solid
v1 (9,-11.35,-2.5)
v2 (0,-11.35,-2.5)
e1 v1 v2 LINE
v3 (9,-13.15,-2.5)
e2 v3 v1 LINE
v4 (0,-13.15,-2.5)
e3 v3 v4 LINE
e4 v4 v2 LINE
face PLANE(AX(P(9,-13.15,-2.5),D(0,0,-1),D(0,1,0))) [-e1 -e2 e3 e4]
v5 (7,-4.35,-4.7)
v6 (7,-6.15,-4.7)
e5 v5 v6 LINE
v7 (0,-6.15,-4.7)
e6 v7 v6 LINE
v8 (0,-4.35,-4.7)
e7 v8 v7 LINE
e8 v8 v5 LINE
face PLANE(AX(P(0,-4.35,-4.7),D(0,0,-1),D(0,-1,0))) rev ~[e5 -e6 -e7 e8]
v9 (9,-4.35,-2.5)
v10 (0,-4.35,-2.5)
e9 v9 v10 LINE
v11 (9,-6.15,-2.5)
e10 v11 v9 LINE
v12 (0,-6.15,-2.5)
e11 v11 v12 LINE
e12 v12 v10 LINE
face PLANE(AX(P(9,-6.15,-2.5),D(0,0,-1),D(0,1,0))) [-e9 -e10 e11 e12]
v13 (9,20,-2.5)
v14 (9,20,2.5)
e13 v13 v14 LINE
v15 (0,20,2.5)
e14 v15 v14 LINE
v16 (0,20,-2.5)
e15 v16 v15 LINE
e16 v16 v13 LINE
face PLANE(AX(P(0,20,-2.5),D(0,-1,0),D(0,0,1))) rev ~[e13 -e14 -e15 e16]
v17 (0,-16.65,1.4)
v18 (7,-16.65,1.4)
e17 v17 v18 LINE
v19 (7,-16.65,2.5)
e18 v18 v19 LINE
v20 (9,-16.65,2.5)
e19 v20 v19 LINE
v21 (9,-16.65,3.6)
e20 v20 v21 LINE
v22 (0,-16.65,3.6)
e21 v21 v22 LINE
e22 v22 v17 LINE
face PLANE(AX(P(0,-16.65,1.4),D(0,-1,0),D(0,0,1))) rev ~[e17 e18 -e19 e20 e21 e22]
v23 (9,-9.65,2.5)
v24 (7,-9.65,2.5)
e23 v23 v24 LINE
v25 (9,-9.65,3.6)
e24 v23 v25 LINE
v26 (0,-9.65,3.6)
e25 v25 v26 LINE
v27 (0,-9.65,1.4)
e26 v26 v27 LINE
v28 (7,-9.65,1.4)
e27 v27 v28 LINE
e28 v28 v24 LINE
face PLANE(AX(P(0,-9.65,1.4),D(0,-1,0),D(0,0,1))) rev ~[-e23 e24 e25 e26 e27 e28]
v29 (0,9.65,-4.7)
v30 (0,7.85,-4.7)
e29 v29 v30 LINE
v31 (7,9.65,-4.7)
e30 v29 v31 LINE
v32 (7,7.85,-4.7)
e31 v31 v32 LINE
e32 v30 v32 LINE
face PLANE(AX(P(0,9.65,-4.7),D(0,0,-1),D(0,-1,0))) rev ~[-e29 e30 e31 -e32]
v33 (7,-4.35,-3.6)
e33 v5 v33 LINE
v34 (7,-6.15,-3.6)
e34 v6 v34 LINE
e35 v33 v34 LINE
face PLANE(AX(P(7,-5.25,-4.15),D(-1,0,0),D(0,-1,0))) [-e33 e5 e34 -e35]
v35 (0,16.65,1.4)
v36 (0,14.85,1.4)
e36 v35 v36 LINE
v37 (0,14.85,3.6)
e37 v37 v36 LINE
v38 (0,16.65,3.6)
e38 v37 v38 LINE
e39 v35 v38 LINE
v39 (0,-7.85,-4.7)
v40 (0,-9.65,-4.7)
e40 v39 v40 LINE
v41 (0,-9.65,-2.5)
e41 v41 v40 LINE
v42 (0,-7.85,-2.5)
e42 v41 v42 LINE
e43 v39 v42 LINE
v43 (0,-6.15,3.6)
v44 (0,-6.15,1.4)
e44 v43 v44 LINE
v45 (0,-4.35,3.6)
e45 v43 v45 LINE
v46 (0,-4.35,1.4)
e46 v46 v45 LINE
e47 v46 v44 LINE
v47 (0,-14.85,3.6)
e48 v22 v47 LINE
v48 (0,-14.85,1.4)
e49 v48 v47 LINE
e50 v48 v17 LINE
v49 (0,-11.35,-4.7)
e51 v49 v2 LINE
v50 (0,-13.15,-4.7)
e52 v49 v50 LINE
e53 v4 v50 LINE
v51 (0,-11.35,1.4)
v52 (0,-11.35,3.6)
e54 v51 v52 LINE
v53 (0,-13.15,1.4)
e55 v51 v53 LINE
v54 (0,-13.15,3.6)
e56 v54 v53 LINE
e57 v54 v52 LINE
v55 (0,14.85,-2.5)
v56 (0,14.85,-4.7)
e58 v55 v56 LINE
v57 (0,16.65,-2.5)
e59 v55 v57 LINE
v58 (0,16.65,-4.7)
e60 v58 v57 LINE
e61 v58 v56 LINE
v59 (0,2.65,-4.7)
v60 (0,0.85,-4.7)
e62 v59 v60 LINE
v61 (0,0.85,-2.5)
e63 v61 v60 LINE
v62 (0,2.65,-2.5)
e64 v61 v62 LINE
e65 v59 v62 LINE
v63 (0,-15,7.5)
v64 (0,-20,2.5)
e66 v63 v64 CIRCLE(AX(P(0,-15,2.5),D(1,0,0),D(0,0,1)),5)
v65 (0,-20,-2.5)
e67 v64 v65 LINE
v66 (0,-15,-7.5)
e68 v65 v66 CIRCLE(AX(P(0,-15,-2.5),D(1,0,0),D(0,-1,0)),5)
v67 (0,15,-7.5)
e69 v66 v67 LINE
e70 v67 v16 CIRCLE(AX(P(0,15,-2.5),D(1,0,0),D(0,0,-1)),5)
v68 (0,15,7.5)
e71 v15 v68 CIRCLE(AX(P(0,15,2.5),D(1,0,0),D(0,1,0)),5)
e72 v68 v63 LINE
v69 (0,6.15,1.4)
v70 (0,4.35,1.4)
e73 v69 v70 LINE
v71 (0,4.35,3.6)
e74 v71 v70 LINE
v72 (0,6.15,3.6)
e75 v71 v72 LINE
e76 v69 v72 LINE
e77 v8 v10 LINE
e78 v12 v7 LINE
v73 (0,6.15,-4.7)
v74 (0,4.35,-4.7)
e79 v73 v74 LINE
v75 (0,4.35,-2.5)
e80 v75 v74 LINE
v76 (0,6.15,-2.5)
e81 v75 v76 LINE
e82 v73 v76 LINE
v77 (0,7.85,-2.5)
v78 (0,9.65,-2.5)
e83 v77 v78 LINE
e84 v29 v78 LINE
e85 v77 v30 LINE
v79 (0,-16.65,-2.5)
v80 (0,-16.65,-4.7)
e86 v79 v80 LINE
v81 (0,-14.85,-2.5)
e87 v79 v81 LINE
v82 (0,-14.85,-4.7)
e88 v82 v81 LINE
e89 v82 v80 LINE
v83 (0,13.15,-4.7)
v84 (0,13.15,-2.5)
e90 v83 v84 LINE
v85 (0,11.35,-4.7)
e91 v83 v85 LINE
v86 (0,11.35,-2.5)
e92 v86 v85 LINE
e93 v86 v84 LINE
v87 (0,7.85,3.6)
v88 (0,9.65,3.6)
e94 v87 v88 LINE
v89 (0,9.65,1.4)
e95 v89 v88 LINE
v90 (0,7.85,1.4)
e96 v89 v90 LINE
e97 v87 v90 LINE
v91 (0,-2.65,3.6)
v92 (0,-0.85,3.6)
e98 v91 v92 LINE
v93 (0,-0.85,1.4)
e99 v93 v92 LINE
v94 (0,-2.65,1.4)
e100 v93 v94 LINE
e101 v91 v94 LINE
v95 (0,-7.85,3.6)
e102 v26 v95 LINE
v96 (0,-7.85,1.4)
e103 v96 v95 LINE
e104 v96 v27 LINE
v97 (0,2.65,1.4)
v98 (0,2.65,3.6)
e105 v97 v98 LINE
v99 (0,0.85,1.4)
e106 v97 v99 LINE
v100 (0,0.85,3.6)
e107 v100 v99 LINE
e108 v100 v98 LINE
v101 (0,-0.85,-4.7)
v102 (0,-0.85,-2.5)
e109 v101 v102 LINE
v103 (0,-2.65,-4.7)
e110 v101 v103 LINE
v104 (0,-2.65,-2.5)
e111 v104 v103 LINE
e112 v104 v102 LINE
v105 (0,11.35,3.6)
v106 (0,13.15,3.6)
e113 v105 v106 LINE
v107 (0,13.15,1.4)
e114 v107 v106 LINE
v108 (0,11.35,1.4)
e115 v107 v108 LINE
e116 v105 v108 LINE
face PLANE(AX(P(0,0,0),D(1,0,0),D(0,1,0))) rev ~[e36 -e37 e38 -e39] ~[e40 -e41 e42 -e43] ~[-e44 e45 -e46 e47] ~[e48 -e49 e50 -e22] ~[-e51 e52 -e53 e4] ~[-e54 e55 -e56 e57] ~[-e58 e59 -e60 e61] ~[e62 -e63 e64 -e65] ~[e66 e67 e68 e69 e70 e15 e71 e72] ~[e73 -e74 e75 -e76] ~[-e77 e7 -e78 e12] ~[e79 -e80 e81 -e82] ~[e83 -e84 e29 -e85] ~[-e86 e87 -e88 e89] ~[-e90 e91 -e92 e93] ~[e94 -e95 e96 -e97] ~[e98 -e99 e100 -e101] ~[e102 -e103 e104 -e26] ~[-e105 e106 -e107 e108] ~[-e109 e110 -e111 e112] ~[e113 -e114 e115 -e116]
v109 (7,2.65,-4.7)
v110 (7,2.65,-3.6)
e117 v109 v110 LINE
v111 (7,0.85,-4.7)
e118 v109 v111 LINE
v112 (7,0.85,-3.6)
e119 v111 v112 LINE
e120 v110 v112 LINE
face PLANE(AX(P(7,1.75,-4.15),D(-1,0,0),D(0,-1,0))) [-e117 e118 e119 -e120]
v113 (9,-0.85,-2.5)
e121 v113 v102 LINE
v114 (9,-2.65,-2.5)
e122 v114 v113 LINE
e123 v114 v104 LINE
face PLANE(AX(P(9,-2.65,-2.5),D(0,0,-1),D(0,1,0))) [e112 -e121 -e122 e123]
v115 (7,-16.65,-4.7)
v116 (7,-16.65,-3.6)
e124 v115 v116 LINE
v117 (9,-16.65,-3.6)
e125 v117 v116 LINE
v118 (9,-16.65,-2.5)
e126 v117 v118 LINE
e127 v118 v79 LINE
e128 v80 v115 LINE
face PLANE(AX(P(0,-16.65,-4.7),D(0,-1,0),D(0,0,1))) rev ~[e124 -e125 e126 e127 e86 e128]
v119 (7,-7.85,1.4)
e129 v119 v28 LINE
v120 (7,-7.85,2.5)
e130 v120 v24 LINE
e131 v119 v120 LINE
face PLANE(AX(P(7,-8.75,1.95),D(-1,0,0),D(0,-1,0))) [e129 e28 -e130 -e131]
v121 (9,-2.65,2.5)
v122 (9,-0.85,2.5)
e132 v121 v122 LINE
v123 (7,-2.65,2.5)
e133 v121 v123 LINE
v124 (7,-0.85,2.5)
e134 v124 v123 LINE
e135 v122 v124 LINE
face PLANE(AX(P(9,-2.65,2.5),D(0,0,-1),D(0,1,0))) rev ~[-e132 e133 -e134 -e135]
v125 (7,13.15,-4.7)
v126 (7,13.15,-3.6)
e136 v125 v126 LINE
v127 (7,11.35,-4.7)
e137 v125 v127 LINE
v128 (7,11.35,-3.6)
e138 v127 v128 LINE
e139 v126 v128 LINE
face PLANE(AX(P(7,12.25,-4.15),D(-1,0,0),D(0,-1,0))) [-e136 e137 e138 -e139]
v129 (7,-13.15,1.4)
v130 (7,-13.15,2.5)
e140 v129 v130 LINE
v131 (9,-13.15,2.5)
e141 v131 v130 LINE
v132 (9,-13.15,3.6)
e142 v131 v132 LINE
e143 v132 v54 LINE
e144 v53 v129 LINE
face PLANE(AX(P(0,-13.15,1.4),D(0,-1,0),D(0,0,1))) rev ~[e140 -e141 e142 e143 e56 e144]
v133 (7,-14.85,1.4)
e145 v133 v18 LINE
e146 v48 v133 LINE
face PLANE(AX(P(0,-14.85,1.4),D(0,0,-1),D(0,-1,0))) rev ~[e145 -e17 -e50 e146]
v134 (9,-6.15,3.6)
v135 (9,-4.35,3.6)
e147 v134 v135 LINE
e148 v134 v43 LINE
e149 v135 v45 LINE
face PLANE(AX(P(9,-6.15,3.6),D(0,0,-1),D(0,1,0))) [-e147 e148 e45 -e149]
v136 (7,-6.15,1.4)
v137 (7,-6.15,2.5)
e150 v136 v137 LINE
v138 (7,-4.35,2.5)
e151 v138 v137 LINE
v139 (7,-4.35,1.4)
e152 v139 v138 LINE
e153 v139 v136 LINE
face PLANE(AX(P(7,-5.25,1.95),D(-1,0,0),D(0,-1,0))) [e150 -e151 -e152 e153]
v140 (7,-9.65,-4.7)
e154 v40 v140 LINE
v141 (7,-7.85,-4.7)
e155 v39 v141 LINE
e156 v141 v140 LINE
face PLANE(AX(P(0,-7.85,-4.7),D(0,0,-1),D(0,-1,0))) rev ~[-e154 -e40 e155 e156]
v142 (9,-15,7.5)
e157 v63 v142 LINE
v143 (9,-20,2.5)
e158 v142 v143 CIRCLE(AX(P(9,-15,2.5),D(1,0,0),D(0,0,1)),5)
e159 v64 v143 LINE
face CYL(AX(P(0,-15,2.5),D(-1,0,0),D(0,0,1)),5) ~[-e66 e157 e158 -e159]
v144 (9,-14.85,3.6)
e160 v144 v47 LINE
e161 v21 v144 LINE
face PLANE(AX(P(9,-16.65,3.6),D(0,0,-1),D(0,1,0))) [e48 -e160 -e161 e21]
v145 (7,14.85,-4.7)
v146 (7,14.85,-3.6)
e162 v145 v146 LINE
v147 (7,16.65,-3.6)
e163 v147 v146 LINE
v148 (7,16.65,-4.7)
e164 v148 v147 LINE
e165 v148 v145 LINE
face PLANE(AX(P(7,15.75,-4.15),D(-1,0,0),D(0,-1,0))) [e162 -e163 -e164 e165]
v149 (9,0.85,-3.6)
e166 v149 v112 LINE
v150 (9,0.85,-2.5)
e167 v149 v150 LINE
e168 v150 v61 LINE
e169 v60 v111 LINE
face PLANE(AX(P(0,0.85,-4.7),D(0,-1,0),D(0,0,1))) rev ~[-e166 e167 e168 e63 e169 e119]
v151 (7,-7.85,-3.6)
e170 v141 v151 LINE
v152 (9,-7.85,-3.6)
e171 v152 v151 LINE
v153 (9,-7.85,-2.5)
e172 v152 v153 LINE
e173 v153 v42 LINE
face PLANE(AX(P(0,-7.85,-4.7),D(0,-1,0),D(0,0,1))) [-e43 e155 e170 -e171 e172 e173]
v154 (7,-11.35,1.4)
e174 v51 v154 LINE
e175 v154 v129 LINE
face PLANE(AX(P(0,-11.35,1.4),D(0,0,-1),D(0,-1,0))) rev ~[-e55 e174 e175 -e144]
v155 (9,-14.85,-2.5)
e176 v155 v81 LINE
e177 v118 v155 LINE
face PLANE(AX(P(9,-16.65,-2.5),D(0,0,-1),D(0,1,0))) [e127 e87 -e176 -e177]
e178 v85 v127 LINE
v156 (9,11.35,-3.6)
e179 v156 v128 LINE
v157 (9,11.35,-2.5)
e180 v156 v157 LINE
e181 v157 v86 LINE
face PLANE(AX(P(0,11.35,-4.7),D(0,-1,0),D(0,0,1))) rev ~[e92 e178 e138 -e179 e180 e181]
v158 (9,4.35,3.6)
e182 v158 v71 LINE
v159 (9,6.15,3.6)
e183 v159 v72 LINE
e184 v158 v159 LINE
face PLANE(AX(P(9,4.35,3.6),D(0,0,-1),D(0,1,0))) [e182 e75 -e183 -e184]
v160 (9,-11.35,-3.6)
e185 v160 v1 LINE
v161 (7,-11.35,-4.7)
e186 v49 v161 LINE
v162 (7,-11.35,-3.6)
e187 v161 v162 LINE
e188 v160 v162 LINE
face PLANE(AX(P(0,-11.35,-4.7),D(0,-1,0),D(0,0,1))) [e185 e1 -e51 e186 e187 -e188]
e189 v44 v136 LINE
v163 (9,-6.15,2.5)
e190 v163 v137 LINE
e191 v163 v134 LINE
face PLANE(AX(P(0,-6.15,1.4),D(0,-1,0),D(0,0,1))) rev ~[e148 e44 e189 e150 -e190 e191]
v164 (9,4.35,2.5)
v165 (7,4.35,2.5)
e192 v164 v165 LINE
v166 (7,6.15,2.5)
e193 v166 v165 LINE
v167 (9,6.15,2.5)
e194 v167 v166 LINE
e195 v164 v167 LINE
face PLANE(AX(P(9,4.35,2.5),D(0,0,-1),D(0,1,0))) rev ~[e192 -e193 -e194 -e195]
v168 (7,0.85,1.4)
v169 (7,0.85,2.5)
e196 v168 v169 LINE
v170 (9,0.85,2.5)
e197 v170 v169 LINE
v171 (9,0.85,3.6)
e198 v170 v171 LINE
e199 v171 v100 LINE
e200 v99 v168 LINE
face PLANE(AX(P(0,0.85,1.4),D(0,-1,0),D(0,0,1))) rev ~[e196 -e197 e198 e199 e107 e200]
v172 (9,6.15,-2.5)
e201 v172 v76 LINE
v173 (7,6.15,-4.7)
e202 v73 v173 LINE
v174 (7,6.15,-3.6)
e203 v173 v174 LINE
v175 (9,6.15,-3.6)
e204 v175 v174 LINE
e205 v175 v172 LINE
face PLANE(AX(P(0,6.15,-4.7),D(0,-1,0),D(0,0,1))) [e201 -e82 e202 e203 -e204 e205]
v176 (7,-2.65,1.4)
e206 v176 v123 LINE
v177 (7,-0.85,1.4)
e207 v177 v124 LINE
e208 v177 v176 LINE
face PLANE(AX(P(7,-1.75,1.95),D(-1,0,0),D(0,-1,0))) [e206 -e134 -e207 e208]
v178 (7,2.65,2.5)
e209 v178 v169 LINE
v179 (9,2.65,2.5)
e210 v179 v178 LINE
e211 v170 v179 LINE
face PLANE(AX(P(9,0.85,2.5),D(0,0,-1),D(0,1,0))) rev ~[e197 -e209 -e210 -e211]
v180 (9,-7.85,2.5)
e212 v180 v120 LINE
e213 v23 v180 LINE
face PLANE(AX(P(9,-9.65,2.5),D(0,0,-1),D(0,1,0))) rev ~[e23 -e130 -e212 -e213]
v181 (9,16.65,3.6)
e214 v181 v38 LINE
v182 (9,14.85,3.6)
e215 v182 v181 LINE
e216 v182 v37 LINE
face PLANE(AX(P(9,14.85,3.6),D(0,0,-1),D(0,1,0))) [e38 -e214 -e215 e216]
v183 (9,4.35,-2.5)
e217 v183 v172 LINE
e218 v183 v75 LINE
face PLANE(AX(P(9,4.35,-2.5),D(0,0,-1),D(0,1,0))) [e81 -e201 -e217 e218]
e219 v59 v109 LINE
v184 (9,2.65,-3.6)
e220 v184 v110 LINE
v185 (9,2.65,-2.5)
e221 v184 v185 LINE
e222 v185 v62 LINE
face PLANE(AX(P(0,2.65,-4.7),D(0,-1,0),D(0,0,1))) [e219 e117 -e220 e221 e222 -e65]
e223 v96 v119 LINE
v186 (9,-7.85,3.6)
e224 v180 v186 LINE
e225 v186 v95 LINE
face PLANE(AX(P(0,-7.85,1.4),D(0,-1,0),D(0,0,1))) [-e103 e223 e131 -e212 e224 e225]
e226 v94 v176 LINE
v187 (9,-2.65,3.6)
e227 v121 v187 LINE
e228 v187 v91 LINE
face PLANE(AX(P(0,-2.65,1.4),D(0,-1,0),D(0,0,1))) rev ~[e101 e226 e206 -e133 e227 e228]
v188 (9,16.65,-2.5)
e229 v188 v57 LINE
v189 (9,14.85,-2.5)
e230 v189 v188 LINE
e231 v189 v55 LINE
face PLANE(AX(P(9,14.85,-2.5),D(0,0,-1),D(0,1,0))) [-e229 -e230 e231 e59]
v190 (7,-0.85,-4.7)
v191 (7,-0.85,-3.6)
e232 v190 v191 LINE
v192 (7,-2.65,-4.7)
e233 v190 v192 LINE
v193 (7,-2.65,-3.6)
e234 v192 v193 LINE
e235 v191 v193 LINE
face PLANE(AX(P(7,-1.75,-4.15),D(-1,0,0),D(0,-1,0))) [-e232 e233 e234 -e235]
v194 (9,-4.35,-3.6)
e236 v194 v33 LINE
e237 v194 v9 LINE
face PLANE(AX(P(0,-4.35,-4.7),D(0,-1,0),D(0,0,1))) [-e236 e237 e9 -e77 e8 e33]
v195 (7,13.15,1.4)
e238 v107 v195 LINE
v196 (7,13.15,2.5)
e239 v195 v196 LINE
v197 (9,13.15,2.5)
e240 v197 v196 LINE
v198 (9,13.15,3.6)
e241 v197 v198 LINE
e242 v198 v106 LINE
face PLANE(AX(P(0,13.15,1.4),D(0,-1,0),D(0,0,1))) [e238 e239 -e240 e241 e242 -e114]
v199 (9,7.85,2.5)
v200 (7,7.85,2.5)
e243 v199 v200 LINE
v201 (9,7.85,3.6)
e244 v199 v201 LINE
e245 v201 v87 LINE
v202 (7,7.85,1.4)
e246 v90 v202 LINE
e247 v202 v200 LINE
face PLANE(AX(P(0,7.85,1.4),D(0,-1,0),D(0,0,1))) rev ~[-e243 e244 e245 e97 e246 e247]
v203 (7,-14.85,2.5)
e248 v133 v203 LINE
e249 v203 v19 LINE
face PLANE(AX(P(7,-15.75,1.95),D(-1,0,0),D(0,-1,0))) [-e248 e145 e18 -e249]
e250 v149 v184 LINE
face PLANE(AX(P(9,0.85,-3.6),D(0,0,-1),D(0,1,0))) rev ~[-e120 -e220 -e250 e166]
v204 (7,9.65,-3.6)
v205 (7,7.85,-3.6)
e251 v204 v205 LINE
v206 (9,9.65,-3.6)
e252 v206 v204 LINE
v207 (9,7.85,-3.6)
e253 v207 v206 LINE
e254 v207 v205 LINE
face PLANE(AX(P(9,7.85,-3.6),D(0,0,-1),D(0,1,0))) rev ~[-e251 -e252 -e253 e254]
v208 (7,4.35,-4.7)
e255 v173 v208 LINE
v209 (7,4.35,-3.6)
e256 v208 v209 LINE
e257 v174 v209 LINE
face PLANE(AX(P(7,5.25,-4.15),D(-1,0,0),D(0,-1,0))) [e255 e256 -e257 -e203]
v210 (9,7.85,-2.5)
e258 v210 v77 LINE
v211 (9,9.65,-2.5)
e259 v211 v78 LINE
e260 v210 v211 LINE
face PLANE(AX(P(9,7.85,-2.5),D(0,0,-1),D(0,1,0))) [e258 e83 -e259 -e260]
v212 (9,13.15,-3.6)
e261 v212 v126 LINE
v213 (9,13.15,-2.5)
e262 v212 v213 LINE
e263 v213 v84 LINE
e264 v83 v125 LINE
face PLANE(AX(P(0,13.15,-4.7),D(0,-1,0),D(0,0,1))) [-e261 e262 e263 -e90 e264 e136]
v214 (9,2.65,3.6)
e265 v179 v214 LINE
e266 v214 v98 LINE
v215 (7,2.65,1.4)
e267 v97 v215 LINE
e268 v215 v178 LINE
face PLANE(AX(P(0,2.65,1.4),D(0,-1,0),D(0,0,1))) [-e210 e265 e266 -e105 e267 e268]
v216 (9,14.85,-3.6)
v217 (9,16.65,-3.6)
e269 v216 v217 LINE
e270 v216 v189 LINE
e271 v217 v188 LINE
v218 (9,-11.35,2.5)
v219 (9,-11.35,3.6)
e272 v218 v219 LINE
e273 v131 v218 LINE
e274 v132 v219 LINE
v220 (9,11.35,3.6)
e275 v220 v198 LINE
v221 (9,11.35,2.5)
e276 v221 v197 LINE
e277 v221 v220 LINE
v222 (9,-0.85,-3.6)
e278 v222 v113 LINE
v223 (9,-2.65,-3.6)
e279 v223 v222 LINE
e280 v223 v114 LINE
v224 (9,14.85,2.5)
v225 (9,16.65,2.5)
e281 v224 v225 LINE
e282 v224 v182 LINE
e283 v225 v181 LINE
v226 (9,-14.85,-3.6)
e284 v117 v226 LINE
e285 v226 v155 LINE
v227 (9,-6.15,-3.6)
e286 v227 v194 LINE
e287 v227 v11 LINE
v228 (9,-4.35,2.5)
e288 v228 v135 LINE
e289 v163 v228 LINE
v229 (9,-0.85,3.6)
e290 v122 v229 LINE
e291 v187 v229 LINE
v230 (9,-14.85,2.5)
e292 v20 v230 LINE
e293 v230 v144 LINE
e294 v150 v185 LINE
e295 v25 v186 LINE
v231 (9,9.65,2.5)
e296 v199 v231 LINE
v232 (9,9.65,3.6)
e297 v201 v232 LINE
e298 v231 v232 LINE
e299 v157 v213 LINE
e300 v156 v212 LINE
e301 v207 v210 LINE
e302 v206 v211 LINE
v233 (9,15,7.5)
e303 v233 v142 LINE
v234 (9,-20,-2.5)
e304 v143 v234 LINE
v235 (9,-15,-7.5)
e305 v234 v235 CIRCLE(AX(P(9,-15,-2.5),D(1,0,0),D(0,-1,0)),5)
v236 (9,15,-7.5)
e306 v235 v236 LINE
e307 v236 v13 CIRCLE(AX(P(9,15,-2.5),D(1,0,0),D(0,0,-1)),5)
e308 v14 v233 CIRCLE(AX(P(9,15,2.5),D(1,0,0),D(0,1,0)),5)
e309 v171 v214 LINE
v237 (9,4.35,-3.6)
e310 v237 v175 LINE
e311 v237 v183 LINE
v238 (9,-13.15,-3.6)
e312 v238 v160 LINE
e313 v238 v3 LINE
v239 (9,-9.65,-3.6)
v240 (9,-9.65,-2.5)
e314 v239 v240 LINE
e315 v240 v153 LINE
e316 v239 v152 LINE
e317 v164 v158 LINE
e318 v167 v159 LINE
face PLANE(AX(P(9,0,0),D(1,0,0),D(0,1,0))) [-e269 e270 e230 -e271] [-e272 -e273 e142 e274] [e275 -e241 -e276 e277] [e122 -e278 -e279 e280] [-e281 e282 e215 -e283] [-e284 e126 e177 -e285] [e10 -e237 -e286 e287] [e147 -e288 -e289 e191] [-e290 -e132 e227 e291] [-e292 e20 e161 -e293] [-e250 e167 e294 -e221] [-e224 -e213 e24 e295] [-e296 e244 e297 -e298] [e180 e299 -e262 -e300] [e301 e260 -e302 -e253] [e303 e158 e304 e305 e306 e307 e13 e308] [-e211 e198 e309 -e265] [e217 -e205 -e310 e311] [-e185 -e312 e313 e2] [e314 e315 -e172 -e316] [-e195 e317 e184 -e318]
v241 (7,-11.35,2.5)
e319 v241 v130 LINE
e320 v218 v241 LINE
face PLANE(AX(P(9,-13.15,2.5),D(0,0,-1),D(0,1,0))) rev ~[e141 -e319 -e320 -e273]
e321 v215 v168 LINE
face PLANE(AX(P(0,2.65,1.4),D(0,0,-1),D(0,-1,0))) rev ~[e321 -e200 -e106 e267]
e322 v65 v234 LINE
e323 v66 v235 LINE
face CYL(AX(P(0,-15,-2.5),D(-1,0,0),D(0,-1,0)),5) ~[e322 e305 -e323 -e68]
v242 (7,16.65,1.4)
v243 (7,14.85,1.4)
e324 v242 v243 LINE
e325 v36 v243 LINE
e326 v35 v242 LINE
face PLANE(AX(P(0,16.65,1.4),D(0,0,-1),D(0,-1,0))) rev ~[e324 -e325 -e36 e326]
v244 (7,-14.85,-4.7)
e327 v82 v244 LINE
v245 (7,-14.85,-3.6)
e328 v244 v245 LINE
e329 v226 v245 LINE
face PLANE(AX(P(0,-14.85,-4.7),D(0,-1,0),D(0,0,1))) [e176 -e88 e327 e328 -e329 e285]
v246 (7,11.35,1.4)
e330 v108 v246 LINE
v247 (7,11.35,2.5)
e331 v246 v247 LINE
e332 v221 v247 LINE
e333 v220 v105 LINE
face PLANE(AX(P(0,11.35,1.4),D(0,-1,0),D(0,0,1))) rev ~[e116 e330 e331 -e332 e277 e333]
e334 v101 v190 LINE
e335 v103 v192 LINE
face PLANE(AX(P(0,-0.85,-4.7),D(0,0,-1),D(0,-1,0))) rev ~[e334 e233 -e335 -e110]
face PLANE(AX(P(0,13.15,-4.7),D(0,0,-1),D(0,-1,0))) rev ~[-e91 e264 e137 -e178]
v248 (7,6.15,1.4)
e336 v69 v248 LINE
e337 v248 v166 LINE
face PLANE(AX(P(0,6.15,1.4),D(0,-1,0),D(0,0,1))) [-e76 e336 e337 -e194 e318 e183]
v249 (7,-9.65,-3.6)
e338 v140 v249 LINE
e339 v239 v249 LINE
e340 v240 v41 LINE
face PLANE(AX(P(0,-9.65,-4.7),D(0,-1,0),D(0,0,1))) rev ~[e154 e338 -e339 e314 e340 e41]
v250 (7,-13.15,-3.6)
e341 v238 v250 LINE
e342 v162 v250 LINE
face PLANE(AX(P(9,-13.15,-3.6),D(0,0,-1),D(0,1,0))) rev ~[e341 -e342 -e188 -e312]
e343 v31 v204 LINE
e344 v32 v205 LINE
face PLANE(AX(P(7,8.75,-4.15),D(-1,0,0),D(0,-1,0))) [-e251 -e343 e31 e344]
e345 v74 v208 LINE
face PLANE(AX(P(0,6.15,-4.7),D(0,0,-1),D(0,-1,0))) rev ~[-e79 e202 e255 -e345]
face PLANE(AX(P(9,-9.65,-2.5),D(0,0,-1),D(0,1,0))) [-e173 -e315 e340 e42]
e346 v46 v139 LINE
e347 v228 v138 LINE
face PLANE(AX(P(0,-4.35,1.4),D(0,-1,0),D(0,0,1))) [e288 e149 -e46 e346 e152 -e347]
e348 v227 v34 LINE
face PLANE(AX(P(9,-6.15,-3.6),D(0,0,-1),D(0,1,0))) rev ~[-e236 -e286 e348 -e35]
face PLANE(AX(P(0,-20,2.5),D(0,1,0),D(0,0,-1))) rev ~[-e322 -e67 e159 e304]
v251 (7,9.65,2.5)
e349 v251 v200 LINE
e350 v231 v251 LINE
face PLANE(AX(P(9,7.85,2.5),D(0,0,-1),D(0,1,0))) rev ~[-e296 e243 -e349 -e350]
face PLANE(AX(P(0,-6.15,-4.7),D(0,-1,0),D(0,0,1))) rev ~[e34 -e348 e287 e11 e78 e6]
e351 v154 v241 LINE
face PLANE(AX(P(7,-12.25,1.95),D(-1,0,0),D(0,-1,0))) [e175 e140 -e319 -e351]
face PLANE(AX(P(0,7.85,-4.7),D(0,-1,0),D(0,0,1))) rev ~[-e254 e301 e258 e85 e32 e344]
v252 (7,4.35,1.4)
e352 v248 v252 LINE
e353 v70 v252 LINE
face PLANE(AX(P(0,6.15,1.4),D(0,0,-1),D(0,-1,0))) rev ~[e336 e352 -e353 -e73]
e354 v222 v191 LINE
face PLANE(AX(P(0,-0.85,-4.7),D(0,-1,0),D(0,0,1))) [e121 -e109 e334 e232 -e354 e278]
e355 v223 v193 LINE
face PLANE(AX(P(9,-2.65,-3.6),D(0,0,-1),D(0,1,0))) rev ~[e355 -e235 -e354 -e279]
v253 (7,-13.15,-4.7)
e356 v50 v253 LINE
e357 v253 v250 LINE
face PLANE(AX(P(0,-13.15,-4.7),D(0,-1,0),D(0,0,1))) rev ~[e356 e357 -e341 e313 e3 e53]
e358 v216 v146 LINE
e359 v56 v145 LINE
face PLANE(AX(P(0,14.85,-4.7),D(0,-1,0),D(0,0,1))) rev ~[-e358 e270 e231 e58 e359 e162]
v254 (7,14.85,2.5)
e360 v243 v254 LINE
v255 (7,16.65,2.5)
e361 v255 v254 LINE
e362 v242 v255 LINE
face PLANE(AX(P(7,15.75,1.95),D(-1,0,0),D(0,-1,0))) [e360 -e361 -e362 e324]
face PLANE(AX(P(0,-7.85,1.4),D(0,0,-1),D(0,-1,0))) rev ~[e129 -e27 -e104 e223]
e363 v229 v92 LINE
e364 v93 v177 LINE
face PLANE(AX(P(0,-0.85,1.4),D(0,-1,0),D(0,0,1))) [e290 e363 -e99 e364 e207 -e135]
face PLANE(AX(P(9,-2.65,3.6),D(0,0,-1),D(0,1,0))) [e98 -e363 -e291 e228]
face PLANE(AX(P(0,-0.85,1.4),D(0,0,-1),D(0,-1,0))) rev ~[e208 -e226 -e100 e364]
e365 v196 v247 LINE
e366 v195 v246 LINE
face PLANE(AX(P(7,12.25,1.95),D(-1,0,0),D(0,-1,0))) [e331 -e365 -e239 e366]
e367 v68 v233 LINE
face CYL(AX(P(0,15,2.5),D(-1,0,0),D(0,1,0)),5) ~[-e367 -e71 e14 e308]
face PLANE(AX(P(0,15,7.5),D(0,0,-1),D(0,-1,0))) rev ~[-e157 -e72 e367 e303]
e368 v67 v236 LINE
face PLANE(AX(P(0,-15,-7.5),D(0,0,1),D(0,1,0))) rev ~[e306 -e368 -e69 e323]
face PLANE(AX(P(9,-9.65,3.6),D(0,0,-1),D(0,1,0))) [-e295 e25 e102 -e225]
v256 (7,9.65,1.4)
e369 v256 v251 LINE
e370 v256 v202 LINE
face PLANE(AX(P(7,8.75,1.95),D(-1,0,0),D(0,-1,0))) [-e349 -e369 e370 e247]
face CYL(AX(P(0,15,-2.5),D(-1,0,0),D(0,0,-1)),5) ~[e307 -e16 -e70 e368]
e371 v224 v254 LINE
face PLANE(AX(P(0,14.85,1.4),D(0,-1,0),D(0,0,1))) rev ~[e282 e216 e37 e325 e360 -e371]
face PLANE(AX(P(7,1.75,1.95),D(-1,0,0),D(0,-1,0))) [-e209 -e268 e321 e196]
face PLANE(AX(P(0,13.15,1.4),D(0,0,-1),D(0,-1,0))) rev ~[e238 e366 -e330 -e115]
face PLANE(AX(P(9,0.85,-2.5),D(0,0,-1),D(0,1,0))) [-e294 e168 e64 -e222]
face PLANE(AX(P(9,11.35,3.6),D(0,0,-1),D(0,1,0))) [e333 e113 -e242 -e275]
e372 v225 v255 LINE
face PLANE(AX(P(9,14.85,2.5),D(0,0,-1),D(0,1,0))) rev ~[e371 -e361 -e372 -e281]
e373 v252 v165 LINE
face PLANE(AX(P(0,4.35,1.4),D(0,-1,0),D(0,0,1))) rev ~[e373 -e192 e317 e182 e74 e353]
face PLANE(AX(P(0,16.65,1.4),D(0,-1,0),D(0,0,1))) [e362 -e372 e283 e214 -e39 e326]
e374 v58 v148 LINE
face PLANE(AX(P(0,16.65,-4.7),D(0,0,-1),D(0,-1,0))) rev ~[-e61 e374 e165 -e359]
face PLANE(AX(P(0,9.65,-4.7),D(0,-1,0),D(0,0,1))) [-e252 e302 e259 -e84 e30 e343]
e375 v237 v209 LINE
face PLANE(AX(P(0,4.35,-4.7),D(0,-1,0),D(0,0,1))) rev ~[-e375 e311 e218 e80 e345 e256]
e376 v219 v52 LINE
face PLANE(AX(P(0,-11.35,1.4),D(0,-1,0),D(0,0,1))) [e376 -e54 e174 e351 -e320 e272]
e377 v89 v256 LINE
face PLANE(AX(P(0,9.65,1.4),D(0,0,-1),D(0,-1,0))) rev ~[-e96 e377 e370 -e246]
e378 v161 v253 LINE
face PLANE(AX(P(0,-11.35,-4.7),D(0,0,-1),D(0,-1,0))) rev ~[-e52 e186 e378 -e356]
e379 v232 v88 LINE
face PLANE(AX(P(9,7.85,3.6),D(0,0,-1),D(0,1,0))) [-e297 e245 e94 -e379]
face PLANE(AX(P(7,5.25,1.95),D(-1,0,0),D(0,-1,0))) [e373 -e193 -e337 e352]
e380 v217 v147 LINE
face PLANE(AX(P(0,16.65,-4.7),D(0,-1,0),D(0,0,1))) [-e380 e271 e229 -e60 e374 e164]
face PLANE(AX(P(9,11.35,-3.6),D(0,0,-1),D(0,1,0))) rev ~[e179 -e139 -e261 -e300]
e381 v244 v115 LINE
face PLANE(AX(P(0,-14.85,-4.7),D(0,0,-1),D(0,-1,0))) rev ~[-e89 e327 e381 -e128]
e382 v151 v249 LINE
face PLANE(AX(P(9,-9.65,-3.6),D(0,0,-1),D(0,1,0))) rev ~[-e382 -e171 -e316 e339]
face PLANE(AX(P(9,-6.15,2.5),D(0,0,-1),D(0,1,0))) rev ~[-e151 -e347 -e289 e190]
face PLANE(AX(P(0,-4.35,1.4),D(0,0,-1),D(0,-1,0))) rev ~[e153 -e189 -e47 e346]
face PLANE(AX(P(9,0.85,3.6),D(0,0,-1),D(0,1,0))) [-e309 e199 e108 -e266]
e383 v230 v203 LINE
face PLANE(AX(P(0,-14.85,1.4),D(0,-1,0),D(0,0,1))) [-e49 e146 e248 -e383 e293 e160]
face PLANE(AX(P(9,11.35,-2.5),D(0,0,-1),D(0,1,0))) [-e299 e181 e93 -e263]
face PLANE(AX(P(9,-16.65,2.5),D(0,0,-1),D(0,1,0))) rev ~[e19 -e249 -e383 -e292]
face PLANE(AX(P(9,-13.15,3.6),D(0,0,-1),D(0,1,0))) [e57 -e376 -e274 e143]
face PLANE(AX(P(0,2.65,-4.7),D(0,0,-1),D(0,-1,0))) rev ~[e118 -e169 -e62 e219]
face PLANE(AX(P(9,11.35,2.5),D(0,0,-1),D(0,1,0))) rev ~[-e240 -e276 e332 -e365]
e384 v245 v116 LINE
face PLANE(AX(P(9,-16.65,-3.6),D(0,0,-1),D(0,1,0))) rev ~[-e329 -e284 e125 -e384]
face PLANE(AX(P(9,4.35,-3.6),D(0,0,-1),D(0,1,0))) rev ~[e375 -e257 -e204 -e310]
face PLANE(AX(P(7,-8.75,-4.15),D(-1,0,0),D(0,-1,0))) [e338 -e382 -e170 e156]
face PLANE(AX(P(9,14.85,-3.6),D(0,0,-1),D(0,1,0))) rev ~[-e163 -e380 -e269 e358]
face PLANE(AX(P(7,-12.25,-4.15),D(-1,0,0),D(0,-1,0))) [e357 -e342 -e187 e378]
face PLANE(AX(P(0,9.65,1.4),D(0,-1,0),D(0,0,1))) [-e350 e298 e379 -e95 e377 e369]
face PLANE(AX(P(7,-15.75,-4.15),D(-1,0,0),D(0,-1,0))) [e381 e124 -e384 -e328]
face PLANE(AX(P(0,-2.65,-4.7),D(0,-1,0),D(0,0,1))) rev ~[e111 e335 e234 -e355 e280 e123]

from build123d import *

# Parameters (mm, degrees)
BOSS_EXTRUDE1_DEPTH = 9
SKETCH2_W           = 1.8
SKETCH2_H           = 1.1
CUT_EXTRUDE1_DEPTH  = 24.178653973
SKETCH3_W           = 1.8
SKETCH3_H           = 1.1
CUT_EXTRUDE2_DEPTH  = 7


with BuildPart() as part:
    # Sketch1 → Boss-Extrude1 (new body)
    with BuildSketch(Plane.YZ):
        with BuildLine():
            Line((-15, -7.5), (15, -7.5))
            ThreePointArc((15, -7.5), (18.535533906, -6.035533906), (20, -2.5))
            Line((20, -2.5), (20, 2.5))
            ThreePointArc((20, 2.5), (18.535533906, 6.035533906), (15, 7.5))
            Line((15, 7.5), (-15, 7.5))
            ThreePointArc((-15, 7.5), (-18.535533906, 6.035533906), (-20, 2.5))
            Line((-20, 2.5), (-20, -2.5))
            ThreePointArc((-20, -2.5), (-18.535533906, -6.035533906), (-15, -7.5))
        make_face()
    extrude(amount=BOSS_EXTRUDE1_DEPTH)

    # Sketch2 → Cut-Extrude1 (cut, through all)
    with BuildSketch(Plane.YZ.offset(9)):
        with Locations((-12.25, 3.05)):
            Rectangle(SKETCH2_W, SKETCH2_H)
        with Locations((-15.75, 3.05)):
            Rectangle(SKETCH2_W, SKETCH2_H)
        with Locations((-8.75, 3.05)):
            Rectangle(SKETCH2_W, SKETCH2_H)
        with Locations((-5.25, 3.05)):
            Rectangle(SKETCH2_W, SKETCH2_H)
        with Locations((-1.75, 3.05)):
            Rectangle(SKETCH2_W, SKETCH2_H)
        with Locations((1.75, 3.05)):
            Rectangle(SKETCH2_W, SKETCH2_H)
        with Locations((5.25, 3.05)):
            Rectangle(SKETCH2_W, SKETCH2_H)
        with Locations((8.75, 3.05)):
            Rectangle(SKETCH2_W, SKETCH2_H)
        with Locations((12.25, 3.05)):
            Rectangle(SKETCH2_W, SKETCH2_H)
        with Locations((15.75, 3.05)):
            Rectangle(SKETCH2_W, SKETCH2_H)
        with Locations((-12.25, -3.05)):
            Rectangle(SKETCH2_W, SKETCH2_H)
        with Locations((-8.75, -3.05)):
            Rectangle(SKETCH2_W, SKETCH2_H)
        with Locations((-5.25, -3.05)):
            Rectangle(SKETCH2_W, SKETCH2_H)
        with Locations((-1.75, -3.05)):
            Rectangle(SKETCH2_W, SKETCH2_H)
        with Locations((1.75, -3.05)):
            Rectangle(SKETCH2_W, SKETCH2_H)
        with Locations((5.25, -3.05)):
            Rectangle(SKETCH2_W, SKETCH2_H)
        with Locations((8.75, -3.05)):
            Rectangle(SKETCH2_W, SKETCH2_H)
        with Locations((12.25, -3.05)):
            Rectangle(SKETCH2_W, SKETCH2_H)
        with Locations((15.75, -3.05)):
            Rectangle(SKETCH2_W, SKETCH2_H)
        with Locations((-15.75, -3.05)):
            Rectangle(SKETCH2_W, SKETCH2_H)
    extrude(amount=-CUT_EXTRUDE1_DEPTH, mode=Mode.SUBTRACT)

    # Sketch3 → Cut-Extrude2 (cut)
    with BuildSketch(Plane(origin=(0, 0, 0), x_dir=(0, -1, 0), z_dir=(-1, 0, 0))):
        with Locations((-15.75, 1.95)):
            Rectangle(SKETCH3_W, SKETCH3_H)
        with Locations((-12.25, 1.95)):
            Rectangle(SKETCH3_W, SKETCH3_H)
        with Locations((-8.75, 1.95)):
            Rectangle(SKETCH3_W, SKETCH3_H)
        with Locations((-5.25, 1.95)):
            Rectangle(SKETCH3_W, SKETCH3_H)
        with Locations((-1.75, 1.95)):
            Rectangle(SKETCH3_W, SKETCH3_H)
        with Locations((1.75, 1.95)):
            Rectangle(SKETCH3_W, SKETCH3_H)
        with Locations((5.25, 1.95)):
            Rectangle(SKETCH3_W, SKETCH3_H)
        with Locations((8.75, 1.95)):
            Rectangle(SKETCH3_W, SKETCH3_H)
        with Locations((12.25, 1.95)):
            Rectangle(SKETCH3_W, SKETCH3_H)
        with Locations((15.75, 1.95)):
            Rectangle(SKETCH3_W, SKETCH3_H)
        with Locations((-15.75, -4.15)):
            Rectangle(SKETCH3_W, SKETCH3_H)
        with Locations((-12.25, -4.15)):
            Rectangle(SKETCH3_W, SKETCH3_H)
        with Locations((-8.75, -4.15)):
            Rectangle(SKETCH3_W, SKETCH3_H)
        with Locations((-5.25, -4.15)):
            Rectangle(SKETCH3_W, SKETCH3_H)
        with Locations((-1.75, -4.15)):
            Rectangle(SKETCH3_W, SKETCH3_H)
        with Locations((1.75, -4.15)):
            Rectangle(SKETCH3_W, SKETCH3_H)
        with Locations((5.25, -4.15)):
            Rectangle(SKETCH3_W, SKETCH3_H)
        with Locations((8.75, -4.15)):
            Rectangle(SKETCH3_W, SKETCH3_H)
        with Locations((12.25, -4.15)):
            Rectangle(SKETCH3_W, SKETCH3_H)
        with Locations((15.75, -4.15)):
            Rectangle(SKETCH3_W, SKETCH3_H)
    extrude(amount=-CUT_EXTRUDE2_DEPTH, mode=Mode.SUBTRACT)


solid = part.part
